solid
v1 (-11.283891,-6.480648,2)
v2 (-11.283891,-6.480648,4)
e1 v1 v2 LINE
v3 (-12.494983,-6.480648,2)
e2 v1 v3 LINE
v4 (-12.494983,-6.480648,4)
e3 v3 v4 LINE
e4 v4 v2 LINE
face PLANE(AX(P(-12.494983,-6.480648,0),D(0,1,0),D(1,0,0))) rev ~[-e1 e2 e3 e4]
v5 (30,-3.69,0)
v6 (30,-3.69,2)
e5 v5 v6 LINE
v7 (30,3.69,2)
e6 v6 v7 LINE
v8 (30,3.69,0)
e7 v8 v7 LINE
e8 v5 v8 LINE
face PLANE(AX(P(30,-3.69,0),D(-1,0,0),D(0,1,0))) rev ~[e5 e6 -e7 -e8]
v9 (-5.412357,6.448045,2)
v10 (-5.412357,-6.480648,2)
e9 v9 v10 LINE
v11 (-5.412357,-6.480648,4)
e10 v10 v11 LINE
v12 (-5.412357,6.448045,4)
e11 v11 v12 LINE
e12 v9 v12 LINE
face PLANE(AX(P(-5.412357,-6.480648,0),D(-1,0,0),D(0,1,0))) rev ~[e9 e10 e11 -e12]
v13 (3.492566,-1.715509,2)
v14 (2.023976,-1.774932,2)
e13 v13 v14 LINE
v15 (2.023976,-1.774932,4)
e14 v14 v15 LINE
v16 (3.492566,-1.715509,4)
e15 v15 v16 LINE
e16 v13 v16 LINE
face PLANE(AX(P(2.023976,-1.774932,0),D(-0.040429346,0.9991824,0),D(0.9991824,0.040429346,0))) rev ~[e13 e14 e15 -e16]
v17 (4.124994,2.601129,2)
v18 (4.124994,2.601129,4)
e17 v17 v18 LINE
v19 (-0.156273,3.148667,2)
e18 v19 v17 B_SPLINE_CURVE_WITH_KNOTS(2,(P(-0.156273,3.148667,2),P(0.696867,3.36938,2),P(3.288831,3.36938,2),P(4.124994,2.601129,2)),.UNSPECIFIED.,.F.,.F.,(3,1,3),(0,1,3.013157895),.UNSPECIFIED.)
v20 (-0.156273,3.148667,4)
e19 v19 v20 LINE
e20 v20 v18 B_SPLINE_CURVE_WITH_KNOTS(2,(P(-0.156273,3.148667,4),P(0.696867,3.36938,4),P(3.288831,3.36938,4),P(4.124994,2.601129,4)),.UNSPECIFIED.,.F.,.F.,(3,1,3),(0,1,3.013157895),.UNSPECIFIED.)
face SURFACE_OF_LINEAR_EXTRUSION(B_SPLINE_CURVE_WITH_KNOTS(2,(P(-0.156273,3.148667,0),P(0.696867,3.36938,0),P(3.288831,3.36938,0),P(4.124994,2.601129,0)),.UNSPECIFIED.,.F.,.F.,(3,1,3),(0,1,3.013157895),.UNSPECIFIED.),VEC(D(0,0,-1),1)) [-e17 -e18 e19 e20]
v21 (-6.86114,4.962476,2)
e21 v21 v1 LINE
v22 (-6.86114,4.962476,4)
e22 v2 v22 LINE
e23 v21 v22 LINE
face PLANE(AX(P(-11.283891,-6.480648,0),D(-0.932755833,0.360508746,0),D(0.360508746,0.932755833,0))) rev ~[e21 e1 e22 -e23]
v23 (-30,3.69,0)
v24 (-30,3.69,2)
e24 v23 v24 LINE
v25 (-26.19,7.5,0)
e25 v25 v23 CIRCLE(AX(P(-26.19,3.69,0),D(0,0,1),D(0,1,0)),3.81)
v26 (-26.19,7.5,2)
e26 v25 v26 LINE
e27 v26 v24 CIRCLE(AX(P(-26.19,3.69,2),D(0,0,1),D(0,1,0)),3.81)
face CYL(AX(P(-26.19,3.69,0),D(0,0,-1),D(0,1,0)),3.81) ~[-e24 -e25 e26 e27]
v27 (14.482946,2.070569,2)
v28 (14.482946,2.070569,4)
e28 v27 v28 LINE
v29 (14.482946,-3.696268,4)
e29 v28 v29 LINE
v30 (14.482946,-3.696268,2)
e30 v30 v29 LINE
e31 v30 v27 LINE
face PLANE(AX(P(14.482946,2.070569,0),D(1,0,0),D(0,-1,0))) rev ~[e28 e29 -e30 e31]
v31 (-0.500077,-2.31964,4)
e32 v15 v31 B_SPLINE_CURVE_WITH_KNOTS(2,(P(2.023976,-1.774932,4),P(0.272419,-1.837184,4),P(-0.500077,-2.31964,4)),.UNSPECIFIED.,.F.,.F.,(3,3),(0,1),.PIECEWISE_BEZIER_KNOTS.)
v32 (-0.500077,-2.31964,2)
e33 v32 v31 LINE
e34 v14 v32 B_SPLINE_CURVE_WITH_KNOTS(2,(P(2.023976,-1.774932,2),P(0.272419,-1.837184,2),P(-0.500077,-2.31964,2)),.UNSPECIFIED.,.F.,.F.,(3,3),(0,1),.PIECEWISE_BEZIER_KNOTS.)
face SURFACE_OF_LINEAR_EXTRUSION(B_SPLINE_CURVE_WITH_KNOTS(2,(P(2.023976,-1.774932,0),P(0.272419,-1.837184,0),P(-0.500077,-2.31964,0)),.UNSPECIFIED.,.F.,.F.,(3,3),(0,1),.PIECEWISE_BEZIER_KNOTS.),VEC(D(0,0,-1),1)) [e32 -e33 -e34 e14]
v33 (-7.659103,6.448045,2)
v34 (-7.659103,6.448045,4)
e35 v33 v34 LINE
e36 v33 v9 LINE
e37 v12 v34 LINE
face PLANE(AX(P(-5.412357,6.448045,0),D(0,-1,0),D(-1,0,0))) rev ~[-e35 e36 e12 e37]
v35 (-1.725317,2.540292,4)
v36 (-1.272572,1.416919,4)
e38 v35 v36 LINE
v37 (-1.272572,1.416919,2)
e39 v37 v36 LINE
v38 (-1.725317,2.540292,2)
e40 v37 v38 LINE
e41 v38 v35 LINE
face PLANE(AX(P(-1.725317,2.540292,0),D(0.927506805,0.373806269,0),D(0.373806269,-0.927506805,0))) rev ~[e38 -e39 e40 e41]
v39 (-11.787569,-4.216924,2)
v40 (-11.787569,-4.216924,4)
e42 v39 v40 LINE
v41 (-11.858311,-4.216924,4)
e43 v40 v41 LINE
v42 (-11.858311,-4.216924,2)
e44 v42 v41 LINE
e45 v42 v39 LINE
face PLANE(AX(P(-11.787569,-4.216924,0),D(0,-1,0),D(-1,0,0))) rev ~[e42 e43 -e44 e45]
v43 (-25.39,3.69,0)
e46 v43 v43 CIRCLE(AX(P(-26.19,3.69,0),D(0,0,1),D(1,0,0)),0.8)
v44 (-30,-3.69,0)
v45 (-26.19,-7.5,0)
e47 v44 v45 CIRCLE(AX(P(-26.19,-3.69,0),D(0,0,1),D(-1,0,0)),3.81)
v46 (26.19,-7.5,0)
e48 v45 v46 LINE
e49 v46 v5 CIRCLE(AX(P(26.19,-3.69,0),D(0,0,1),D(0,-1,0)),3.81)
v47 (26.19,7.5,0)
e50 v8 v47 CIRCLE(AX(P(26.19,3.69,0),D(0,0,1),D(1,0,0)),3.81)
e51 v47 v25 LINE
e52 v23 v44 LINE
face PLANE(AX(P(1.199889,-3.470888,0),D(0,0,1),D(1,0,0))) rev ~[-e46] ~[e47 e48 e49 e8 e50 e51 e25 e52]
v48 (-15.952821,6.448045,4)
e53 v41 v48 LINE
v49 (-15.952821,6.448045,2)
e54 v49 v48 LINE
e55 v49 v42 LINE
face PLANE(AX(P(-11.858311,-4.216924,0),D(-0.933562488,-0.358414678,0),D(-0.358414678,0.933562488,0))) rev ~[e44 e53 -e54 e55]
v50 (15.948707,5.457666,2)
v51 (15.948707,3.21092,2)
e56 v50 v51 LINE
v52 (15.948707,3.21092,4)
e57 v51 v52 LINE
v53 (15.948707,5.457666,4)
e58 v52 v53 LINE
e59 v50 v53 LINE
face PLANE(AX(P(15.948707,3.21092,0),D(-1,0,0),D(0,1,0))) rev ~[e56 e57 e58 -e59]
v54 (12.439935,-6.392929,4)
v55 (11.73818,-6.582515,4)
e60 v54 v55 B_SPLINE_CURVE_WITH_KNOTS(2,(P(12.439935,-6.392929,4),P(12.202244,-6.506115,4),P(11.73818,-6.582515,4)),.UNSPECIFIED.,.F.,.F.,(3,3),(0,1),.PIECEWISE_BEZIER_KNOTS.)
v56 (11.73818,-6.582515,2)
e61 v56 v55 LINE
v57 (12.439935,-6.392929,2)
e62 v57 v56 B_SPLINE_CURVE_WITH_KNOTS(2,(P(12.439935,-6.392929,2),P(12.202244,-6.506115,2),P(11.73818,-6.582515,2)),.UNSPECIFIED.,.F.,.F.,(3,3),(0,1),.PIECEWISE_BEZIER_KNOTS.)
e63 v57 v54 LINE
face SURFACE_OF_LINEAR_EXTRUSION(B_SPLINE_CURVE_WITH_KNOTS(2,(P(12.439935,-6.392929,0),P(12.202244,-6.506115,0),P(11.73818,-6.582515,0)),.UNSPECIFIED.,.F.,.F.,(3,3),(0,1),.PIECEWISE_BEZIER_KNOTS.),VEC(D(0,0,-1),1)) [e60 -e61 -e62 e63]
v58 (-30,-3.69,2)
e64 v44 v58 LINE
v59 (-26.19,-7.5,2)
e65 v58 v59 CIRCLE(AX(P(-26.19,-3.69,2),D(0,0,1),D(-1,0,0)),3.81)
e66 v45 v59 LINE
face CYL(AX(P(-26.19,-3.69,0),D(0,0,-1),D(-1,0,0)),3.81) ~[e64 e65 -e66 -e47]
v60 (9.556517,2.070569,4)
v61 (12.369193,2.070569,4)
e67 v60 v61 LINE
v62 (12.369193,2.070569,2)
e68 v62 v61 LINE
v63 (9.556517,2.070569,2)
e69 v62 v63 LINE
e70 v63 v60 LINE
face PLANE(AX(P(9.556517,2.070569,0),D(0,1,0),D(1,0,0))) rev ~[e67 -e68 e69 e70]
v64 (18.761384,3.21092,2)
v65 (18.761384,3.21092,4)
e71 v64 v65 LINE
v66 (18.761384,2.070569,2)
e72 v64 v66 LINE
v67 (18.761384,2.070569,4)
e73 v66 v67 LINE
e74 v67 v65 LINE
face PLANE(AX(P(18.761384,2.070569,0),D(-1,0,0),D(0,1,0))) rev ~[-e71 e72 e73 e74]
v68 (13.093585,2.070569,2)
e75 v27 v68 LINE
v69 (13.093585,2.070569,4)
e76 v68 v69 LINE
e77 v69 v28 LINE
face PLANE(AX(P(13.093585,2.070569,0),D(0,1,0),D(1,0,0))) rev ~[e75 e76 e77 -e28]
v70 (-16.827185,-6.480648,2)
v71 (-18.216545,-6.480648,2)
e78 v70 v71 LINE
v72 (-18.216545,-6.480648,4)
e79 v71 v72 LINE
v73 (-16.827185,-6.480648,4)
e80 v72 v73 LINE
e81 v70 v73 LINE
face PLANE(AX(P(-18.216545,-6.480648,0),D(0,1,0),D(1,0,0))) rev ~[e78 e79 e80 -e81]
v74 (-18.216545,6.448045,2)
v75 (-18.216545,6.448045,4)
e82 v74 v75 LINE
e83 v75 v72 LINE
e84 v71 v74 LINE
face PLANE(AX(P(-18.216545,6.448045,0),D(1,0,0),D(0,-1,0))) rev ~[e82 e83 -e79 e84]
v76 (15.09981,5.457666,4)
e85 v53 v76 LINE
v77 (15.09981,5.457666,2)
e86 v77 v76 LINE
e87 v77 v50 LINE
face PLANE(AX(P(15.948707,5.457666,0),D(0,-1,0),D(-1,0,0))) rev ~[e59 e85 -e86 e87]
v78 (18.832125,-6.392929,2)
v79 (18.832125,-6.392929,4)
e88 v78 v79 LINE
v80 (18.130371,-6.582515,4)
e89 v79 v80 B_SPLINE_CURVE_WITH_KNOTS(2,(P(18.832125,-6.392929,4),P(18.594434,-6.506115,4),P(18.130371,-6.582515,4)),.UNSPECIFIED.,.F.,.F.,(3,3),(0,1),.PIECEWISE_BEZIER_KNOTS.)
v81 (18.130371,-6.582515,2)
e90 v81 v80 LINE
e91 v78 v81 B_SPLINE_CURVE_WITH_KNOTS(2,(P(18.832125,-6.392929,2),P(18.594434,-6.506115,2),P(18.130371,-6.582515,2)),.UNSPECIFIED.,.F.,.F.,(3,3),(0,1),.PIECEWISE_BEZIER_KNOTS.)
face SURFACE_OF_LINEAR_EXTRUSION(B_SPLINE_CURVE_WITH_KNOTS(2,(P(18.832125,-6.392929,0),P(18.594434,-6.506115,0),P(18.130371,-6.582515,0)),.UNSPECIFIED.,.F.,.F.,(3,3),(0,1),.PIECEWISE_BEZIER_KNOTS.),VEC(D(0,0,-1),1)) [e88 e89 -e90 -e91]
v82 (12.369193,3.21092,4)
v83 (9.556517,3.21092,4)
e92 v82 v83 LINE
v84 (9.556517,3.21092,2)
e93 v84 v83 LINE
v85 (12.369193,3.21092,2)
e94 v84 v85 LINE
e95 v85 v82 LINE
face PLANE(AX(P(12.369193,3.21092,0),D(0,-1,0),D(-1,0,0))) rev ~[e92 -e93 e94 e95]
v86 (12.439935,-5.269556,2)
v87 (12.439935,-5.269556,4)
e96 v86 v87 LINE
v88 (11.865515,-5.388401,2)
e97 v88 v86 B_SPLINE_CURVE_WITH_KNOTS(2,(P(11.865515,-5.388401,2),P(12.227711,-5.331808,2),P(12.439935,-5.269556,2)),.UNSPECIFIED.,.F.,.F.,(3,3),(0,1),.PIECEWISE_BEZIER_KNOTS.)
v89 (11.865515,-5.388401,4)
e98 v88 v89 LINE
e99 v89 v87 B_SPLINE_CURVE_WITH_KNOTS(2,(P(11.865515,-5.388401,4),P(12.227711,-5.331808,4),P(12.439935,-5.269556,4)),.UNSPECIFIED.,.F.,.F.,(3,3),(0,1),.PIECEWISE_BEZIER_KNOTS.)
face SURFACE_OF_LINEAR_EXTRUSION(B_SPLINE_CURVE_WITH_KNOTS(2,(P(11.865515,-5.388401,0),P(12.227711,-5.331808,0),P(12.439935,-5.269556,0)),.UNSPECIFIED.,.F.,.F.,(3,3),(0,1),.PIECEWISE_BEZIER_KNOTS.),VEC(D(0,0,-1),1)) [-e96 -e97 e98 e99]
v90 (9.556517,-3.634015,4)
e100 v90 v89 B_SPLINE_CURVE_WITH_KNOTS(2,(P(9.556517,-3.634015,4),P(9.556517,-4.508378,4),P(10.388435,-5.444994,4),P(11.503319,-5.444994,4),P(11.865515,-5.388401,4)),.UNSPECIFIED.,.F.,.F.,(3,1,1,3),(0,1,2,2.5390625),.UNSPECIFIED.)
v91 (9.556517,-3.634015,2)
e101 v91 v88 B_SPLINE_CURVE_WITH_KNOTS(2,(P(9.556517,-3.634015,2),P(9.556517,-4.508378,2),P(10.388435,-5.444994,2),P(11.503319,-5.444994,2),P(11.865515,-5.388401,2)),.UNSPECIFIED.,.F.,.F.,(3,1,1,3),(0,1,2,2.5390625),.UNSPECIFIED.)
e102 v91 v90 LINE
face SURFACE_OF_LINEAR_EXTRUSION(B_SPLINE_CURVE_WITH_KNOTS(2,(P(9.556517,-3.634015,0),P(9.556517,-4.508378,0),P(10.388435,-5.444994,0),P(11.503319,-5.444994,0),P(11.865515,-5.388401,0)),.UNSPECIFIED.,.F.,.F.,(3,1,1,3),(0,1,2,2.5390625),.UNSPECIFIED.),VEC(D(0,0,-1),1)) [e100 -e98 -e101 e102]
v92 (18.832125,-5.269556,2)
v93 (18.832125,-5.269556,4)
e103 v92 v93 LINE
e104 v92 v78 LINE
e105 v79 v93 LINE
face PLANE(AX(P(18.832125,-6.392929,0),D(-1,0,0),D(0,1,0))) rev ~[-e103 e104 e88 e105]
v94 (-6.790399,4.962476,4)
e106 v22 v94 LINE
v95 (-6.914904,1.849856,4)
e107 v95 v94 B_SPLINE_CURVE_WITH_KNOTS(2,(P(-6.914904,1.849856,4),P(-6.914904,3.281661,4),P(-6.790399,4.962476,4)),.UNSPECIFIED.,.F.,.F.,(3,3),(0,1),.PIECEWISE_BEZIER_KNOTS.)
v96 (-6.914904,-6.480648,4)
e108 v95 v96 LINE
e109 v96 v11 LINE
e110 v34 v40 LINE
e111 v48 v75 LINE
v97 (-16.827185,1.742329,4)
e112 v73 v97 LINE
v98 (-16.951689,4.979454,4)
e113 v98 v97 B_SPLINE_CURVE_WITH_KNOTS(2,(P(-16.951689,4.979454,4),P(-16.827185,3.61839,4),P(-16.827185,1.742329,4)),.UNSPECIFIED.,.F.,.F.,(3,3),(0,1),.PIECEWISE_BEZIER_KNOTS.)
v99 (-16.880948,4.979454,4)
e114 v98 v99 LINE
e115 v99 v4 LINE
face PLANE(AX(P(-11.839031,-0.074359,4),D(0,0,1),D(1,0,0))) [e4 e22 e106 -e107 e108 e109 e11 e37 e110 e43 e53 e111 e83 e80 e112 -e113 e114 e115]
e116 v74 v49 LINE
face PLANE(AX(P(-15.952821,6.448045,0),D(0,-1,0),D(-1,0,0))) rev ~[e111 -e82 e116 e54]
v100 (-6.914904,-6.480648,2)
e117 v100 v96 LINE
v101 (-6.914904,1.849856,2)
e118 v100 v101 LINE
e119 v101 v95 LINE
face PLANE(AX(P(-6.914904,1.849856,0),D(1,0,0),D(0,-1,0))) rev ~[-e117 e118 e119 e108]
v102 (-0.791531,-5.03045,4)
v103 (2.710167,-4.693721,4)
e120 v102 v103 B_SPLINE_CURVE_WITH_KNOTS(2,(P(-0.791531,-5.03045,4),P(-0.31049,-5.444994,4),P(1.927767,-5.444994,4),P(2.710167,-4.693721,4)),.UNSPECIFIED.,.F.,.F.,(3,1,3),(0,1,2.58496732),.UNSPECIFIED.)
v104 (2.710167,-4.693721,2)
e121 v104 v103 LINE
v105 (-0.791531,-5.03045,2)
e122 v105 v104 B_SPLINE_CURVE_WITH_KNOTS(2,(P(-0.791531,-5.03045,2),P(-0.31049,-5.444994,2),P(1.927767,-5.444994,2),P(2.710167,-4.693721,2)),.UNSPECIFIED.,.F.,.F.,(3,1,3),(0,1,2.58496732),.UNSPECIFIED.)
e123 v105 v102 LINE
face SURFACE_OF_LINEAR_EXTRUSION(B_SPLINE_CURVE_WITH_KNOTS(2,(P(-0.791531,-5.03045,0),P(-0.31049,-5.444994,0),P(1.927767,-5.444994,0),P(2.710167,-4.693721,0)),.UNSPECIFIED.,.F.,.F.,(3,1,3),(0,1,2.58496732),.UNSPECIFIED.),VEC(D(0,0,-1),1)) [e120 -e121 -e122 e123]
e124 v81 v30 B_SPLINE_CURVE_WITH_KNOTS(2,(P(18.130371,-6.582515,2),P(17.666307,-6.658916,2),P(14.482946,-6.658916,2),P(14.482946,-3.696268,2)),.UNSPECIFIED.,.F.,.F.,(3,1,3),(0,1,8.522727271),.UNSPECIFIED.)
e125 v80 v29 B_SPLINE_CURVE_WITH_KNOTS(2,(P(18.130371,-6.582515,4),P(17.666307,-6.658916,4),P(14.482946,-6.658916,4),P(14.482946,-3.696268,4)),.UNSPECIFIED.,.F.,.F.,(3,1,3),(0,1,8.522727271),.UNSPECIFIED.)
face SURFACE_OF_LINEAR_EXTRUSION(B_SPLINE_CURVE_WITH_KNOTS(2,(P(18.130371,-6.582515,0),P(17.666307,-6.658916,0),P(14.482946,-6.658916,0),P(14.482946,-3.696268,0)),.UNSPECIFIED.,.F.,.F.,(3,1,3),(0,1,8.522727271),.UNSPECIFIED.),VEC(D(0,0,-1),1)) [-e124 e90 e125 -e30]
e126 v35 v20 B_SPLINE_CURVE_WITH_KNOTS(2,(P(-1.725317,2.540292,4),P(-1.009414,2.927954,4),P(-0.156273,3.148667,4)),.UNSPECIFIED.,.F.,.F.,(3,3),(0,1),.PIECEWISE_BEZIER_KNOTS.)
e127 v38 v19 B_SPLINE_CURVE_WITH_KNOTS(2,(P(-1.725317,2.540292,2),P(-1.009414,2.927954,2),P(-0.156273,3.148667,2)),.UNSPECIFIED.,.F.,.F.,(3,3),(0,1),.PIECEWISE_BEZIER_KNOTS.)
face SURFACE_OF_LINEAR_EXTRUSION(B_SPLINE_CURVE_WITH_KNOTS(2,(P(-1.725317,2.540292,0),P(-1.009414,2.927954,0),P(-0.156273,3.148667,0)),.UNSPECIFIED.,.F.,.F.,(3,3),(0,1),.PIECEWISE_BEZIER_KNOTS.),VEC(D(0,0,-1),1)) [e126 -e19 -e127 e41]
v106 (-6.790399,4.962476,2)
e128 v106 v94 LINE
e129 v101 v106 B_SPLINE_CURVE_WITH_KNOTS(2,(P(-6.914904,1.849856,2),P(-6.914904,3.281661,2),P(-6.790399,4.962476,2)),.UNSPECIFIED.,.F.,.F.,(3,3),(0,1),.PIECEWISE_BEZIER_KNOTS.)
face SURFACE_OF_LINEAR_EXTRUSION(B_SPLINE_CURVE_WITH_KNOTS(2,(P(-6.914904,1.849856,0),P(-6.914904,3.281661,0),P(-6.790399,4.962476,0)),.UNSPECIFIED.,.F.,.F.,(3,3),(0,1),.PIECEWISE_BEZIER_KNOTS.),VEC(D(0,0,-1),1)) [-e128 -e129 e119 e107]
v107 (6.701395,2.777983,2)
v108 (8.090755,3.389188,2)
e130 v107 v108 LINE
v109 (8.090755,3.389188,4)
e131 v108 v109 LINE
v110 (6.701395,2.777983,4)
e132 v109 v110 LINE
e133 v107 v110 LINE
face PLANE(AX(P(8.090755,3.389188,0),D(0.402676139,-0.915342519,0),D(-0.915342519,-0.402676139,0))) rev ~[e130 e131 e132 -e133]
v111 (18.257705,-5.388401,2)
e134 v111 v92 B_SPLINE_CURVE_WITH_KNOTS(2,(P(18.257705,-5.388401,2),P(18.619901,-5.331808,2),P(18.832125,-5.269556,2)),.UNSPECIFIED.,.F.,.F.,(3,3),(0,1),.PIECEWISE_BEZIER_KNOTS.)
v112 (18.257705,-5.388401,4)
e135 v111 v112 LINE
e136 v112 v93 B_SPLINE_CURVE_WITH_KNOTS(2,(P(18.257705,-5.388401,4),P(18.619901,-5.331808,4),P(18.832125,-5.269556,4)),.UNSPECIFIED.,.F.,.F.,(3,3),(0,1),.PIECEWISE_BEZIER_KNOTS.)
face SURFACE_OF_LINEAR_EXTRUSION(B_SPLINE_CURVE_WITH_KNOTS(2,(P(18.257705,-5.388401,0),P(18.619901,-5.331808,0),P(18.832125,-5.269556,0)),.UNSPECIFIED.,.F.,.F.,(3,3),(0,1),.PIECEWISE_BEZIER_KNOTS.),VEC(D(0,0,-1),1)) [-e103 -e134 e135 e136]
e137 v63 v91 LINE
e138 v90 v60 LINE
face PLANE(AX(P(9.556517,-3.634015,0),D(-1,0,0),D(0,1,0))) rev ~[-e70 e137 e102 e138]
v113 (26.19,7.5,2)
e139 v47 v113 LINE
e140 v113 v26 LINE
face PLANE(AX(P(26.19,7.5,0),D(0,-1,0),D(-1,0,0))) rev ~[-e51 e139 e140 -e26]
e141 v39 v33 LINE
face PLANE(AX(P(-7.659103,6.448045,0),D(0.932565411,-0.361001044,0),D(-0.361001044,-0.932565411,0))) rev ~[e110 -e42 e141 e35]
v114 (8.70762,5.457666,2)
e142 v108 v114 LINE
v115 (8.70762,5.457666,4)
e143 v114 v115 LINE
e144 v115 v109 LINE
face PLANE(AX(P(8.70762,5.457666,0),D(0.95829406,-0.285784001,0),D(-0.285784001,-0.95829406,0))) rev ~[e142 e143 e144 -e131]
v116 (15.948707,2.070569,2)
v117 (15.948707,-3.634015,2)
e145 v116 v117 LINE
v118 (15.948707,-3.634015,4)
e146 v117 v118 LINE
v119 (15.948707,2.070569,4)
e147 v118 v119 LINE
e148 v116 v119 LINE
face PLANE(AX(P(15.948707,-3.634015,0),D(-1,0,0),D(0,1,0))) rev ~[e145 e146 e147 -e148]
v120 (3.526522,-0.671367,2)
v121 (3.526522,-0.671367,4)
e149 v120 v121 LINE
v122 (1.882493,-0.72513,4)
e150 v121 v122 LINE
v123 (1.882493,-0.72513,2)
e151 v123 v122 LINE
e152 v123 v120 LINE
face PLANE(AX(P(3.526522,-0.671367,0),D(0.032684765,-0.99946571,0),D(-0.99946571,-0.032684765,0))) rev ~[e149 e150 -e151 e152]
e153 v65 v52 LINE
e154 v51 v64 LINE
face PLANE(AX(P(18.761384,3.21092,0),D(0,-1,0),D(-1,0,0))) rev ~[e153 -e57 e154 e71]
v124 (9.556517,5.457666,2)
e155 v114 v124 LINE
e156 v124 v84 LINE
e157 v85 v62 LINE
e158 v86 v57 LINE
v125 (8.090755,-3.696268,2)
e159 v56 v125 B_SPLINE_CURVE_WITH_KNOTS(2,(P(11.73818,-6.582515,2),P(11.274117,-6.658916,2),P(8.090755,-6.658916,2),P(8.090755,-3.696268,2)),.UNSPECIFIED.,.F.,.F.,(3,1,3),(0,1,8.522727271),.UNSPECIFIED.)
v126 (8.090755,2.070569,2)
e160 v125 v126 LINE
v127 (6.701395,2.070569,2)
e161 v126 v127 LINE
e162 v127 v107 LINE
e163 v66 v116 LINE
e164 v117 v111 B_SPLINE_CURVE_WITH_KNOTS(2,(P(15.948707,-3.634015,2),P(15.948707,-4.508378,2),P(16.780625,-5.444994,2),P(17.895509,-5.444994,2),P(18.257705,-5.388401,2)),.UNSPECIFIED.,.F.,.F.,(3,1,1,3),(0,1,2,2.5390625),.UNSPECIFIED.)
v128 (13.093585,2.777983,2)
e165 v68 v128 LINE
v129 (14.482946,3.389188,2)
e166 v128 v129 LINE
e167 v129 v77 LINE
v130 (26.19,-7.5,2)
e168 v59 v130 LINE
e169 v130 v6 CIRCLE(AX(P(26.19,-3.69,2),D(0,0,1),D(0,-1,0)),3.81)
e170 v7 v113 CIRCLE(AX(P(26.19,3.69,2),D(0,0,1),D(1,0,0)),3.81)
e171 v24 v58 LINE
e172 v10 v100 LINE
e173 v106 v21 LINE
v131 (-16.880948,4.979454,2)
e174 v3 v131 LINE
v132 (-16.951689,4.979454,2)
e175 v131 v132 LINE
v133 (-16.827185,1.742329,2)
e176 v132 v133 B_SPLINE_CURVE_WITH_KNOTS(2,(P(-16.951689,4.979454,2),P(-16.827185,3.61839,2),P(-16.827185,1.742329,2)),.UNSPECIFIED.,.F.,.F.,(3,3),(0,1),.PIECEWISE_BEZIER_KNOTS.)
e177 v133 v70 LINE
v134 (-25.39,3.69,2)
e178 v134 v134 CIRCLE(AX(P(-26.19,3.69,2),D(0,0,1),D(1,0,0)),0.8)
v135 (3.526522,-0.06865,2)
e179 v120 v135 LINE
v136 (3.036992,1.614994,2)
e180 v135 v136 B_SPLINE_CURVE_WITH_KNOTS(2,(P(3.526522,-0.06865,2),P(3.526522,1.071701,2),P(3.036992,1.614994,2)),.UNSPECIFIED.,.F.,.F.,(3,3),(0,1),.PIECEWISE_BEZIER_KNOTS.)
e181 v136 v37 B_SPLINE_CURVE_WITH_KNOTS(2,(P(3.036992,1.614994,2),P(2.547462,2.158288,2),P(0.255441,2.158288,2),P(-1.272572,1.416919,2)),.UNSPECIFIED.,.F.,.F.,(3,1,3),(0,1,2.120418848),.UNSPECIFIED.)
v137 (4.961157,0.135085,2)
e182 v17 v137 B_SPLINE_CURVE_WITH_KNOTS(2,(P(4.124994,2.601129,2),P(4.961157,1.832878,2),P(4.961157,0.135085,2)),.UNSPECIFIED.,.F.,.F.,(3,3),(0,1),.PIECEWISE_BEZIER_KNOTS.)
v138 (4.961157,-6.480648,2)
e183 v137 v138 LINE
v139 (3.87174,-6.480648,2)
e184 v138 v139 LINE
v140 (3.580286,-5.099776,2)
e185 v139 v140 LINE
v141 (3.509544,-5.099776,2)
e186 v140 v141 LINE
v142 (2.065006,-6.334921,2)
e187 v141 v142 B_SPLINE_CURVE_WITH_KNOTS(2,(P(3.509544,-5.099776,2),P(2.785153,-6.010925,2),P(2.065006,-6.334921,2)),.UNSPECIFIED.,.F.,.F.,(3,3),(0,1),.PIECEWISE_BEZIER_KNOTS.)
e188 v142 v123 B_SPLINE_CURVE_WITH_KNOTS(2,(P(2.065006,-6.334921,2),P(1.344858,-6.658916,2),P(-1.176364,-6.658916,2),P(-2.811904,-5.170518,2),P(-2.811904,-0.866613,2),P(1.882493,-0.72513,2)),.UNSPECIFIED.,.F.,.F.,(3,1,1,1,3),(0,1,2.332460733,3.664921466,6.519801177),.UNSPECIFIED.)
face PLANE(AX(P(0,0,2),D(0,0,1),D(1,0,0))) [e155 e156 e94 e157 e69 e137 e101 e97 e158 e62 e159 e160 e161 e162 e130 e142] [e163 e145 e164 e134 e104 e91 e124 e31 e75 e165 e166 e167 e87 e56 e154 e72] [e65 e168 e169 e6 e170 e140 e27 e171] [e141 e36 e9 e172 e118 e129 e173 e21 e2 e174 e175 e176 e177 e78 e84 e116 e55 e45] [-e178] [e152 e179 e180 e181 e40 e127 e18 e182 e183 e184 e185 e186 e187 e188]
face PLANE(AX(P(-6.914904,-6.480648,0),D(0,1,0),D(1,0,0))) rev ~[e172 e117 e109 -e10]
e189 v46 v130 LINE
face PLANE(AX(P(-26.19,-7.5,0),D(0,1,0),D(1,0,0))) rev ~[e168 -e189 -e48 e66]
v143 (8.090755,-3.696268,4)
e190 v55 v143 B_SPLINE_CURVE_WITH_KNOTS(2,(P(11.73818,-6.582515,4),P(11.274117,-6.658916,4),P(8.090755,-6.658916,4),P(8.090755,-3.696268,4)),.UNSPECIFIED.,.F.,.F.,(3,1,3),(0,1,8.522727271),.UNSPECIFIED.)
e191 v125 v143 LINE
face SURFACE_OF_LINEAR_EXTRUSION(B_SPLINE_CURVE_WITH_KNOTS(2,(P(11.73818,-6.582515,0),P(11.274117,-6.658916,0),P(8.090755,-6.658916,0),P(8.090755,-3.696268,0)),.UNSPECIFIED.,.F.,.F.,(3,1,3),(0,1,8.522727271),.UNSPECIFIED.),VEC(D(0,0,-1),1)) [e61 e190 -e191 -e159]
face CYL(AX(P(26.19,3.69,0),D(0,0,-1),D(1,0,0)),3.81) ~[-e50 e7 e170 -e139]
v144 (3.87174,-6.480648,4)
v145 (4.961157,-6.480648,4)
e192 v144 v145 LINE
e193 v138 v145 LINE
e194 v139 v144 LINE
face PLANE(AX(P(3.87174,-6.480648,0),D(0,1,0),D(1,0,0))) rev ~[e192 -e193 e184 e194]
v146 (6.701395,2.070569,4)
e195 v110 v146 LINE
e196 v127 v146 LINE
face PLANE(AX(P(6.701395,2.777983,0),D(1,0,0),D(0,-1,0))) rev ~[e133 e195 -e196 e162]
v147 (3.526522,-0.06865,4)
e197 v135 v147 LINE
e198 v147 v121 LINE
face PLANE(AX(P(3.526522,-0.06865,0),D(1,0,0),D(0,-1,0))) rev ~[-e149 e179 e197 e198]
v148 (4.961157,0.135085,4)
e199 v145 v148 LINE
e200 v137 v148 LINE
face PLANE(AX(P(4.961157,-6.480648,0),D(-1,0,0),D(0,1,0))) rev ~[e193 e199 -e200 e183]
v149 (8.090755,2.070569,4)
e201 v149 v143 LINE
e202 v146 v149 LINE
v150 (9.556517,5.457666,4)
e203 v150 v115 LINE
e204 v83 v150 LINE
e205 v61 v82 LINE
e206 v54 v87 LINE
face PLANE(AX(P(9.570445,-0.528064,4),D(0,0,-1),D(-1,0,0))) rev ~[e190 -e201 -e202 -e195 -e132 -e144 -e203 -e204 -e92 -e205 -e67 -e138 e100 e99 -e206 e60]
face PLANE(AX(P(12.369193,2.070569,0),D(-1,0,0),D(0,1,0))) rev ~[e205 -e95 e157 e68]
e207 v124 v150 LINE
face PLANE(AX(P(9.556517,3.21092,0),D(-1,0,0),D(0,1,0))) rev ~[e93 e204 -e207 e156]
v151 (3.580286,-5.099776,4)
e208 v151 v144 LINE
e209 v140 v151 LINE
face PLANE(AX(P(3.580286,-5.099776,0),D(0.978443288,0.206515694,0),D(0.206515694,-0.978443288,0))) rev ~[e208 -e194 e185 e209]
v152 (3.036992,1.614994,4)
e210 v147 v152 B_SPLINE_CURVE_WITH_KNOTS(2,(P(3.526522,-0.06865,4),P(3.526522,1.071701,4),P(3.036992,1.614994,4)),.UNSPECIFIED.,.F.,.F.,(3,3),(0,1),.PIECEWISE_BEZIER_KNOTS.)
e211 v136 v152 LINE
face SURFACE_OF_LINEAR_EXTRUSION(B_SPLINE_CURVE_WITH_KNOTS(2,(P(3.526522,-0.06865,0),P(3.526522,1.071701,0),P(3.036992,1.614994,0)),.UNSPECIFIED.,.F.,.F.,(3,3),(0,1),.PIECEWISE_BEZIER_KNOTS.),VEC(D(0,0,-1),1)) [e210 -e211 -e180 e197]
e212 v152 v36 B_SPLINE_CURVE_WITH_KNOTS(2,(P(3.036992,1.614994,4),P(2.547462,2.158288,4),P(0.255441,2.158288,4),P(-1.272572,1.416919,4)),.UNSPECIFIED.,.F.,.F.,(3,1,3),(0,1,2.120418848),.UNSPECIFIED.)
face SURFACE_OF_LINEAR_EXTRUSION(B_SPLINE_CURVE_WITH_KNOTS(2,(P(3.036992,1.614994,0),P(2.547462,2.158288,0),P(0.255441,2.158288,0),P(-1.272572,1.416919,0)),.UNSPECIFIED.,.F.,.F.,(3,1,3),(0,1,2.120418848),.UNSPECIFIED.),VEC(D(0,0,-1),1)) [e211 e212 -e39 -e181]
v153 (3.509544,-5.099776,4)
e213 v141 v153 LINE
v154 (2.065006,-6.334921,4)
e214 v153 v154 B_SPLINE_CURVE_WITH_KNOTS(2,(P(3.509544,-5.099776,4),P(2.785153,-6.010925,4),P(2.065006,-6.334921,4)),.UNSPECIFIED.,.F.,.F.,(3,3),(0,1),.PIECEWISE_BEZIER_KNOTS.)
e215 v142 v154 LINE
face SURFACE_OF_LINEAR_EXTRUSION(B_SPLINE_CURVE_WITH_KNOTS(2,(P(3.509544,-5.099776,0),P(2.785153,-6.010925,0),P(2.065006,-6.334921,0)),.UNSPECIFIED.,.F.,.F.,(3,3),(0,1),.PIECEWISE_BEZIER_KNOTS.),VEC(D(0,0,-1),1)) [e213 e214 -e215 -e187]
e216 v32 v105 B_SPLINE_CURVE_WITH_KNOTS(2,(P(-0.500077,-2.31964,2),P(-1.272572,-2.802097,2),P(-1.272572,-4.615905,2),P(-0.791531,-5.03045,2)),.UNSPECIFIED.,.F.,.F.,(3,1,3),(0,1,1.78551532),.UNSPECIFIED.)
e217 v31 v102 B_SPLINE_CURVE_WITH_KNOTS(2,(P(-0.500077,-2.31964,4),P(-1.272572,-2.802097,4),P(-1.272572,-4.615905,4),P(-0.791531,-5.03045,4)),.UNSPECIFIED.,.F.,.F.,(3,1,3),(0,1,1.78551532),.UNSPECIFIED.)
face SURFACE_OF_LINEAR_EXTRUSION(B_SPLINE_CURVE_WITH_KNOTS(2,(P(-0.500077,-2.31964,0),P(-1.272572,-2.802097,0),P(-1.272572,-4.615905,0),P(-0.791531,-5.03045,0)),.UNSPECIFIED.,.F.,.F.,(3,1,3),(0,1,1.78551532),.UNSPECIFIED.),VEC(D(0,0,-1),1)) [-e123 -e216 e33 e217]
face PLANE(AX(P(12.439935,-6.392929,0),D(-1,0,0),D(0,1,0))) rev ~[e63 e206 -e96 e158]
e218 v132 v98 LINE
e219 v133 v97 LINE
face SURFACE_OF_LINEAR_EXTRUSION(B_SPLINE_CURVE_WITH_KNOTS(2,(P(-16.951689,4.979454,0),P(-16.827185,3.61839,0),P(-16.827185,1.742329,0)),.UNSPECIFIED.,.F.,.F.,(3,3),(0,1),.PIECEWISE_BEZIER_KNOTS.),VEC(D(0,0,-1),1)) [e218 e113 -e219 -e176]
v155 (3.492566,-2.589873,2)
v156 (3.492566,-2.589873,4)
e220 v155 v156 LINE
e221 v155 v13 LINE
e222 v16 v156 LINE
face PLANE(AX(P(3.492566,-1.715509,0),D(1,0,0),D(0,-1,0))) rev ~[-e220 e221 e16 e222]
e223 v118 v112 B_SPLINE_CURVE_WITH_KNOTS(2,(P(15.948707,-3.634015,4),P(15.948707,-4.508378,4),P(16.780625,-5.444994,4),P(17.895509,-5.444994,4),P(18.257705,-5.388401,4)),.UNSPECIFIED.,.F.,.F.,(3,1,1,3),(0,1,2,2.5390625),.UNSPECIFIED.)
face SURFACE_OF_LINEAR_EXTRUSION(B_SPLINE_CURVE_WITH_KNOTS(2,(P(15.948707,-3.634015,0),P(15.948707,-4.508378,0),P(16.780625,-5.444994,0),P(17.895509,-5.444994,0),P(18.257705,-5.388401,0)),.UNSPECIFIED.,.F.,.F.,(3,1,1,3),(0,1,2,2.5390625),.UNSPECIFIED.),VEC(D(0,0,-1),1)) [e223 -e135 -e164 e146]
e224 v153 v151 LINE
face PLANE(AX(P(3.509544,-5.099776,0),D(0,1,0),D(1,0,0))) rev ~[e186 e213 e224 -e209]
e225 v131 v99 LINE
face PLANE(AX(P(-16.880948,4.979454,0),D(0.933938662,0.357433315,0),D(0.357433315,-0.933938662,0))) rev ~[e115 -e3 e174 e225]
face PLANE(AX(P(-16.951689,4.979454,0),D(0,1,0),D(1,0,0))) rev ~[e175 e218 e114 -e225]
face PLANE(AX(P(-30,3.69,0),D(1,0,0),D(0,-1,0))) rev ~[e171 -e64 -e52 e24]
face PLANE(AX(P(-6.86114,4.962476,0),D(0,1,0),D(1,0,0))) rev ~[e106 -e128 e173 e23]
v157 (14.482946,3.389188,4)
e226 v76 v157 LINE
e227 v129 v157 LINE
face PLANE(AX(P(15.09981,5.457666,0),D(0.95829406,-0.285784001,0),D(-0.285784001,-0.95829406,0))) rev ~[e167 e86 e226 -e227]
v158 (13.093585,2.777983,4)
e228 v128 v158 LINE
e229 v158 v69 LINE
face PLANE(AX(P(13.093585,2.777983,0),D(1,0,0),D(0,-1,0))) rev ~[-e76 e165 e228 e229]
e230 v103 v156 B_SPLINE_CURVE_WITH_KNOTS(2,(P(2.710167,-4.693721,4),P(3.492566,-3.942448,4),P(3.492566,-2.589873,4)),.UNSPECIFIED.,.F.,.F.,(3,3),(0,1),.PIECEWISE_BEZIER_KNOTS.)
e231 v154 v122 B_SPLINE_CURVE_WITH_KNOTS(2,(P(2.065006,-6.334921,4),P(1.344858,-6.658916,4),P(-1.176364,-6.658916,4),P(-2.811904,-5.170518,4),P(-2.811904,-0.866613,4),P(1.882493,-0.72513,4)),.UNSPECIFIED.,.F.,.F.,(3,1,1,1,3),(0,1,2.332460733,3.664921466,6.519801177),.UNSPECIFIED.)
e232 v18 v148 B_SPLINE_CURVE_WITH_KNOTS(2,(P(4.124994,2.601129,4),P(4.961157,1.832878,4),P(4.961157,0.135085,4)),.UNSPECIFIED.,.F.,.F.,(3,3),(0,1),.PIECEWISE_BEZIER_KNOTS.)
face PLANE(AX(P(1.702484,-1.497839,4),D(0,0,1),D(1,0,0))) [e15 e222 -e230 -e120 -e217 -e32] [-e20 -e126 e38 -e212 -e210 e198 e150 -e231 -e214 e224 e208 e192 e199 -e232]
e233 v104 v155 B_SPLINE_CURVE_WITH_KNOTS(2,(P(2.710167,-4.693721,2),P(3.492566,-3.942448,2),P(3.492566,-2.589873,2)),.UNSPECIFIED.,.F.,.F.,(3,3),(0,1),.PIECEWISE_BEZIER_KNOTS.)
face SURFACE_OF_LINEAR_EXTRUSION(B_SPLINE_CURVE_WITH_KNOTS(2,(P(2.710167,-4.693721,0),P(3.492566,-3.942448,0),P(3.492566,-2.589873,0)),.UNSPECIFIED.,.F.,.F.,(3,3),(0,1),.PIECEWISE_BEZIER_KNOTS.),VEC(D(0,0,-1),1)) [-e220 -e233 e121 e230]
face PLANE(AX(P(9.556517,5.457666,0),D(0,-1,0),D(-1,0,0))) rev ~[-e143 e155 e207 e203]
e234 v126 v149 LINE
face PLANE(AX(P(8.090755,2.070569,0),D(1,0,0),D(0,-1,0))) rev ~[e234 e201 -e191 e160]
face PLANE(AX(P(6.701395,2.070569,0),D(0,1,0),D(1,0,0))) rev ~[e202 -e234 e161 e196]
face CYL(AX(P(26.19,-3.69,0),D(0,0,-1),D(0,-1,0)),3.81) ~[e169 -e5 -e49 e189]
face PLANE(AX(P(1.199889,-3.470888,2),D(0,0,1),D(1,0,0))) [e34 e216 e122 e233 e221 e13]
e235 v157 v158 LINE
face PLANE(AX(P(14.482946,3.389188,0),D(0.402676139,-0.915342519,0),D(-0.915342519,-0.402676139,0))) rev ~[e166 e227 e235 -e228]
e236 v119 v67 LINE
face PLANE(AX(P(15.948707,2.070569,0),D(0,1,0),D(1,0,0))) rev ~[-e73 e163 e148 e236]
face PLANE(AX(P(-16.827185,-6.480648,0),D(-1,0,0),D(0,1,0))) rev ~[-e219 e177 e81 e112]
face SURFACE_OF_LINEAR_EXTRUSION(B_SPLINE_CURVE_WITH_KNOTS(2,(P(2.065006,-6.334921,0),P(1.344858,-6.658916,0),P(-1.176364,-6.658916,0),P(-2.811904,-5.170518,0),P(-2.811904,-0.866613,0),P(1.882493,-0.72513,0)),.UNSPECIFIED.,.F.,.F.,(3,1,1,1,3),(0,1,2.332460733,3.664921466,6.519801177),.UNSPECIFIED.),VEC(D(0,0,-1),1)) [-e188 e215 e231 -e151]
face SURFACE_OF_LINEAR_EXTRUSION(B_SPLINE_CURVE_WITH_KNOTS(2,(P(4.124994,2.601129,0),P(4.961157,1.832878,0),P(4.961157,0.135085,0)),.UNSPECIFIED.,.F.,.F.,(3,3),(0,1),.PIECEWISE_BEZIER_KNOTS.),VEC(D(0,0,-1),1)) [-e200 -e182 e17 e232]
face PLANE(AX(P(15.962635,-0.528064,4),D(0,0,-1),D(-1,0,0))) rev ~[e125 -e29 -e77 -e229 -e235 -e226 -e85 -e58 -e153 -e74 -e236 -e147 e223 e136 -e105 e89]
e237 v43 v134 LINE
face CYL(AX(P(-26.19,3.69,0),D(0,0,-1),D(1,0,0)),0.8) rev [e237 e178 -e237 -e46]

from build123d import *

# Parameters (mm, degrees)
F0_R     = 0.8
F1_DEPTH = 2
F2_DEPTH = 4
F3_DEPTH = 4
F4_DEPTH = 2
F5_DEPTH = 4
F6_DEPTH = 2.5


with BuildPart() as f1:
    # F0 (on Top) → F1 (new body)
    with BuildSketch(Plane.XY):
        with BuildLine():
            ThreePointArc((30, 3.69), (28.8840768363, 6.3840768363), (26.19, 7.5))
            Line((26.19, 7.5), (-26.19, 7.5))
            ThreePointArc((-26.19, 7.5), (-28.8840768363, 6.3840768363), (-30, 3.69))
            Line((-30, 3.69), (-30, -3.69))
            ThreePointArc((-30, -3.69), (-28.8840768363, -6.3840768363), (-26.19, -7.5))
            Line((-26.19, -7.5), (26.19, -7.5))
            ThreePointArc((26.19, -7.5), (28.8840768363, -6.3840768363), (30, -3.69))
            Line((30, -3.69), (30, 3.69))
        make_face()
        with BuildLine():
            Line((-11.2838908856, -6.4806478423), (-12.4949831323, -6.4806478423))
            Line((-12.4949831323, -6.4806478423), (-16.8809480446, 4.9794540253))
            Line((-16.8809480446, 4.9794540253), (-16.9516894142, 4.9794540253))
            add(Edge.make_bspline(
                [(-16.9516894142, 4.9794540253), (-16.8271846037, 3.6183900751), (-16.8271846037, 1.7423289545)],
                knots=[0, 0, 0, 1, 1, 1], degree=2))
            Line((-16.8271846037, 1.7423289545), (-16.8271846037, -6.4806478423))
            Line((-16.8271846037, -6.4806478423), (-18.2165451018, -6.4806478423))
            Line((-18.2165451018, -6.4806478423), (-18.2165451018, 6.4480448572))
            Line((-18.2165451018, 6.4480448572), (-15.9528212761, 6.4480448572))
            Line((-15.9528212761, 6.4480448572), (-11.8583108063, -4.2169240166))
            Line((-11.8583108063, -4.2169240166), (-11.7875694368, -4.2169240166))
            Line((-11.7875694368, -4.2169240166), (-7.6591031097, 6.4480448572))
            Line((-7.6591031097, 6.4480448572), (-5.4123572127, 6.4480448572))
            Line((-5.4123572127, 6.4480448572), (-5.4123572127, -6.4806478423))
            Line((-5.4123572127, -6.4806478423), (-6.914903902, -6.4806478423))
            Line((-6.914903902, -6.4806478423), (-6.914903902, 1.8498558363))
            add(Edge.make_bspline(
                [(-6.914903902, 1.8498558363), (-6.914903902, 3.281661156), (-6.7903990916, 4.9624760966)],
                knots=[0, 0, 0, 1, 1, 1], degree=2))
            Line((-6.7903990916, 4.9624760966), (-6.8611404611, 4.9624760966))
            Line((-6.8611404611, 4.9624760966), (-11.2838908856, -6.4806478423))
        make_face(mode=Mode.SUBTRACT)
        with BuildLine():
            Line((4.9611572186, -6.4806478423), (3.8717401274, -6.4806478423))
            Line((3.8717401274, -6.4806478423), (3.5802856849, -5.0997763086))
            Line((3.5802856849, -5.0997763086), (3.5095443153, -5.0997763086))
            add(Edge.make_bspline(
                [(3.5095443153, -5.0997763086), (2.7851526911, -6.0109251485), (2.0650055491, -6.334920621)],
                knots=[0, 0, 0, 1, 1, 1], degree=2))
            add(Edge.make_bspline(
                [(2.0650055491, -6.334920621), (1.344858407, -6.6589160936), (0.2639302802, -6.6589160936)],
                knots=[0, 0, 0, 1, 1, 1], degree=2))
            add(Edge.make_bspline(
                [(0.2639302802, -6.6589160936), (-1.1763640039, -6.6589160936), (-1.9941342359, -5.9147168859)],
                knots=[0, 0, 0, 1, 1, 1], degree=2))
            add(Edge.make_bspline(
                [(-1.9941342359, -5.9147168859), (-2.8119044679, -5.1705176782), (-2.8119044679, -3.8009647636)],
                knots=[0, 0, 0, 1, 1, 1], degree=2))
            add(Edge.make_bspline(
                [(-2.8119044679, -3.8009647636), (-2.8119044679, -0.8666127546), (1.8824928156, -0.7251300155)],
                knots=[0, 0, 0, 1, 1, 1], degree=2))
            Line((1.8824928156, -0.7251300155), (3.526522244, -0.6713665746))
            Line((3.526522244, -0.6713665746), (3.526522244, -0.068650106))
            add(Edge.make_bspline(
                [(3.526522244, -0.068650106), (3.526522244, 1.0717007712), (3.0369919667, 1.6149944893)],
                knots=[0, 0, 0, 1, 1, 1], degree=2))
            add(Edge.make_bspline(
                [(3.0369919667, 1.6149944893), (2.5474616894, 2.1582882075), (1.4665335626, 2.1582882075)],
                knots=[0, 0, 0, 1, 1, 1], degree=2))
            add(Edge.make_bspline(
                [(1.4665335626, 2.1582882075), (0.2554413159, 2.1582882075), (-1.2725722664, 1.4169186546)],
                knots=[0, 0, 0, 1, 1, 1], degree=2))
            Line((-1.2725722664, 1.4169186546), (-1.7253170316, 2.5402916031))
            add(Edge.make_bspline(
                [(-1.7253170316, 2.5402916031), (-1.0094143717, 2.9279543082), (-0.1562734549, 3.1486673813)],
                knots=[0, 0, 0, 1, 1, 1], degree=2))
            add(Edge.make_bspline(
                [(-0.1562734549, 3.1486673813), (0.6968674619, 3.3693804543), (1.5570825157, 3.3693804543)],
                knots=[0, 0, 0, 1, 1, 1], degree=2))
            add(Edge.make_bspline(
                [(1.5570825157, 3.3693804543), (3.2888312423, 3.3693804543), (4.1249942304, 2.6011291809)],
                knots=[0, 0, 0, 1, 1, 1], degree=2))
            add(Edge.make_bspline(
                [(4.1249942304, 2.6011291809), (4.9611572186, 1.8328779076), (4.9611572186, 0.1350850383)],
                knots=[0, 0, 0, 1, 1, 1], degree=2))
            Line((4.9611572186, 0.1350850383), (4.9611572186, -6.4806478423))
        make_face(mode=Mode.SUBTRACT)
        with BuildLine():
            add(Edge.make_bspline(
                [(9.9724758377, -4.9766863256), (10.3884350907, -5.444994192), (11.1128267149, -5.444994192)],
                knots=[0, 0, 0, 1, 1, 1], degree=2))
            add(Edge.make_bspline(
                [(11.1128267149, -5.444994192), (11.5033190748, -5.444994192), (11.8655148869, -5.3884010964)],
                knots=[0, 0, 0, 1, 1, 1], degree=2))
            add(Edge.make_bspline(
                [(11.8655148869, -5.3884010964), (12.227710699, -5.3318080007), (12.4399348077, -5.2695555955)],
                knots=[0, 0, 0, 1, 1, 1], degree=2))
            Line((12.4399348077, -5.2695555955), (12.4399348077, -6.392928544))
            add(Edge.make_bspline(
                [(12.4399348077, -6.392928544), (12.202243806, -6.5061147353), (11.7381804217, -6.5825154144)],
                knots=[0, 0, 0, 1, 1, 1], degree=2))
            add(Edge.make_bspline(
                [(11.7381804217, -6.5825154144), (11.2741170375, -6.6589160936), (10.9006026062, -6.6589160936)],
                knots=[0, 0, 0, 1, 1, 1], degree=2))
            add(Edge.make_bspline(
                [(10.9006026062, -6.6589160936), (8.0907554076, -6.6589160936), (8.0907554076, -3.6962675367)],
                knots=[0, 0, 0, 1, 1, 1], degree=2))
            Line((8.0907554076, -3.6962675367), (8.0907554076, 2.0705689093))
            Line((8.0907554076, 2.0705689093), (6.7013949096, 2.0705689093))
            Line((6.7013949096, 2.0705689093), (6.7013949096, 2.7779826048))
            Line((6.7013949096, 2.7779826048), (8.0907554076, 3.3891880377))
            Line((8.0907554076, 3.3891880377), (8.7076201501, 5.4576656835))
            Line((8.7076201501, 5.4576656835), (9.5565165847, 5.4576656835))
            Line((9.5565165847, 5.4576656835), (9.5565165847, 3.2109197865))
            Line((9.5565165847, 3.2109197865), (12.3691934381, 3.2109197865))
            Line((12.3691934381, 3.2109197865), (12.3691934381, 2.0705689093))
            Line((12.3691934381, 2.0705689093), (9.5565165847, 2.0705689093))
            Line((9.5565165847, 2.0705689093), (9.5565165847, -3.6340151315))
            add(Edge.make_bspline(
                [(9.5565165847, -3.6340151315), (9.5565165847, -4.5083784592), (9.9724758377, -4.9766863256)],
                knots=[0, 0, 0, 1, 1, 1], degree=2))
        make_face(mode=Mode.SUBTRACT)
        with BuildLine():
            add(Edge.make_bspline(
                [(16.3646659905, -4.9766863256), (16.7806252435, -5.444994192), (17.5050168677, -5.444994192)],
                knots=[0, 0, 0, 1, 1, 1], degree=2))
            add(Edge.make_bspline(
                [(17.5050168677, -5.444994192), (17.8955092276, -5.444994192), (18.2577050397, -5.3884010964)],
                knots=[0, 0, 0, 1, 1, 1], degree=2))
            add(Edge.make_bspline(
                [(18.2577050397, -5.3884010964), (18.6199008518, -5.3318080007), (18.8321249605, -5.2695555955)],
                knots=[0, 0, 0, 1, 1, 1], degree=2))
            Line((18.8321249605, -5.2695555955), (18.8321249605, -6.392928544))
            add(Edge.make_bspline(
                [(18.8321249605, -6.392928544), (18.5944339588, -6.5061147353), (18.1303705745, -6.5825154144)],
                knots=[0, 0, 0, 1, 1, 1], degree=2))
            add(Edge.make_bspline(
                [(18.1303705745, -6.5825154144), (17.6663071903, -6.6589160936), (17.292792759, -6.6589160936)],
                knots=[0, 0, 0, 1, 1, 1], degree=2))
            add(Edge.make_bspline(
                [(17.292792759, -6.6589160936), (14.4829455604, -6.6589160936), (14.4829455604, -3.6962675367)],
                knots=[0, 0, 0, 1, 1, 1], degree=2))
            Line((14.4829455604, -3.6962675367), (14.4829455604, 2.0705689093))
            Line((14.4829455604, 2.0705689093), (13.0935850624, 2.0705689093))
            Line((13.0935850624, 2.0705689093), (13.0935850624, 2.7779826048))
            Line((13.0935850624, 2.7779826048), (14.4829455604, 3.3891880377))
            Line((14.4829455604, 3.3891880377), (15.0998103029, 5.4576656835))
            Line((15.0998103029, 5.4576656835), (15.9487067375, 5.4576656835))
            Line((15.9487067375, 5.4576656835), (15.9487067375, 3.2109197865))
            Line((15.9487067375, 3.2109197865), (18.7613835909, 3.2109197865))
            Line((18.7613835909, 3.2109197865), (18.7613835909, 2.0705689093))
            Line((18.7613835909, 2.0705689093), (15.9487067375, 2.0705689093))
            Line((15.9487067375, 2.0705689093), (15.9487067375, -3.6340151315))
            add(Edge.make_bspline(
                [(15.9487067375, -3.6340151315), (15.9487067375, -4.5083784592), (16.3646659905, -4.9766863256)],
                knots=[0, 0, 0, 1, 1, 1], degree=2))
        make_face(mode=Mode.SUBTRACT)
        with Locations((-26.19, 3.69)):
            Circle(F0_R, mode=Mode.SUBTRACT)
    extrude(amount=F1_DEPTH)

    # F0 (on Top) → F2 (join)
    with BuildSketch(Plane.XY):
        with BuildLine():
            Line((3.5802856849, -5.0997763086), (3.8717401274, -6.4806478423))
            Line((3.8717401274, -6.4806478423), (4.9611572186, -6.4806478423))
            Line((4.9611572186, -6.4806478423), (4.9611572186, 0.1350850383))
            add(Edge.make_bspline(
                [(4.1249942304, 2.6011291809), (4.9611572186, 1.8328779076), (4.9611572186, 0.1350850383)],
                knots=[0, 0, 0, 1, 1, 1], degree=2))
            add(Edge.make_bspline(
                [(1.5570825157, 3.3693804543), (3.2888312423, 3.3693804543), (4.1249942304, 2.6011291809)],
                knots=[0, 0, 0, 1, 1, 1], degree=2))
            add(Edge.make_bspline(
                [(-0.1562734549, 3.1486673813), (0.6968674619, 3.3693804543), (1.5570825157, 3.3693804543)],
                knots=[0, 0, 0, 1, 1, 1], degree=2))
            add(Edge.make_bspline(
                [(-1.7253170316, 2.5402916031), (-1.0094143717, 2.9279543082), (-0.1562734549, 3.1486673813)],
                knots=[0, 0, 0, 1, 1, 1], degree=2))
            Line((-1.7253170316, 2.5402916031), (-1.2725722664, 1.4169186546))
            add(Edge.make_bspline(
                [(1.4665335626, 2.1582882075), (0.2554413159, 2.1582882075), (-1.2725722664, 1.4169186546)],
                knots=[0, 0, 0, 1, 1, 1], degree=2))
            add(Edge.make_bspline(
                [(3.0369919667, 1.6149944893), (2.5474616894, 2.1582882075), (1.4665335626, 2.1582882075)],
                knots=[0, 0, 0, 1, 1, 1], degree=2))
            add(Edge.make_bspline(
                [(3.526522244, -0.068650106), (3.526522244, 1.0717007712), (3.0369919667, 1.6149944893)],
                knots=[0, 0, 0, 1, 1, 1], degree=2))
            Line((3.526522244, -0.068650106), (3.526522244, -0.6713665746))
            Line((3.526522244, -0.6713665746), (1.8824928156, -0.7251300155))
            add(Edge.make_bspline(
                [(-2.8119044679, -3.8009647636), (-2.8119044679, -0.8666127546), (1.8824928156, -0.7251300155)],
                knots=[0, 0, 0, 1, 1, 1], degree=2))
            add(Edge.make_bspline(
                [(-1.9941342359, -5.9147168859), (-2.8119044679, -5.1705176782), (-2.8119044679, -3.8009647636)],
                knots=[0, 0, 0, 1, 1, 1], degree=2))
            add(Edge.make_bspline(
                [(0.2639302802, -6.6589160936), (-1.1763640039, -6.6589160936), (-1.9941342359, -5.9147168859)],
                knots=[0, 0, 0, 1, 1, 1], degree=2))
            add(Edge.make_bspline(
                [(2.0650055491, -6.334920621), (1.344858407, -6.6589160936), (0.2639302802, -6.6589160936)],
                knots=[0, 0, 0, 1, 1, 1], degree=2))
            add(Edge.make_bspline(
                [(3.5095443153, -5.0997763086), (2.7851526911, -6.0109251485), (2.0650055491, -6.334920621)],
                knots=[0, 0, 0, 1, 1, 1], degree=2))
            Line((3.5095443153, -5.0997763086), (3.5802856849, -5.0997763086))
        make_face()
        with BuildLine():
            add(Edge.make_bspline(
                [(0.5553847228, -5.444994192), (1.9277672921, -5.444994192), (2.7101668394, -4.6937208474)],
                knots=[0, 0, 0, 1, 1, 1], degree=2))
            add(Edge.make_bspline(
                [(-0.7915309535, -5.0304497665), (-0.3104896405, -5.444994192), (0.5553847228, -5.444994192)],
                knots=[0, 0, 0, 1, 1, 1], degree=2))
            add(Edge.make_bspline(
                [(-1.2725722664, -3.8179426923), (-1.2725722664, -4.6159053409), (-0.7915309535, -5.0304497665)],
                knots=[0, 0, 0, 1, 1, 1], degree=2))
            add(Edge.make_bspline(
                [(-0.5000765109, -2.3196404852), (-1.2725722664, -2.8020966255), (-1.2725722664, -3.8179426923)],
                knots=[0, 0, 0, 1, 1, 1], degree=2))
            add(Edge.make_bspline(
                [(2.0239755547, -1.7749319396), (0.2724192446, -1.8371843448), (-0.5000765109, -2.3196404852)],
                knots=[0, 0, 0, 1, 1, 1], degree=2))
            Line((2.0239755547, -1.7749319396), (3.4925663866, -1.7155091892))
            Line((3.4925663866, -1.7155091892), (3.4925663866, -2.5898725169))
            add(Edge.make_bspline(
                [(2.7101668394, -4.6937208474), (3.4925663866, -3.9424475027), (3.4925663866, -2.5898725169)],
                knots=[0, 0, 0, 1, 1, 1], degree=2))
        make_face(mode=Mode.SUBTRACT)
    extrude(amount=F2_DEPTH)

    # F0 (on Top) → F3 (join)
    with BuildSketch(Plane.XY):
        with BuildLine():
            Line((-16.8809480446, 4.9794540253), (-12.4949831323, -6.4806478423))
            Line((-12.4949831323, -6.4806478423), (-11.2838908856, -6.4806478423))
            Line((-11.2838908856, -6.4806478423), (-6.8611404611, 4.9624760966))
            Line((-6.8611404611, 4.9624760966), (-6.7903990916, 4.9624760966))
            add(Edge.make_bspline(
                [(-6.914903902, 1.8498558363), (-6.914903902, 3.281661156), (-6.7903990916, 4.9624760966)],
                knots=[0, 0, 0, 1, 1, 1], degree=2))
            Line((-6.914903902, 1.8498558363), (-6.914903902, -6.4806478423))
            Line((-6.914903902, -6.4806478423), (-5.4123572127, -6.4806478423))
            Line((-5.4123572127, -6.4806478423), (-5.4123572127, 6.4480448572))
            Line((-5.4123572127, 6.4480448572), (-7.6591031097, 6.4480448572))
            Line((-7.6591031097, 6.4480448572), (-11.7875694368, -4.2169240166))
            Line((-11.7875694368, -4.2169240166), (-11.8583108063, -4.2169240166))
            Line((-11.8583108063, -4.2169240166), (-15.9528212761, 6.4480448572))
            Line((-15.9528212761, 6.4480448572), (-18.2165451018, 6.4480448572))
            Line((-18.2165451018, 6.4480448572), (-18.2165451018, -6.4806478423))
            Line((-18.2165451018, -6.4806478423), (-16.8271846037, -6.4806478423))
            Line((-16.8271846037, -6.4806478423), (-16.8271846037, 1.7423289545))
            add(Edge.make_bspline(
                [(-16.9516894142, 4.9794540253), (-16.8271846037, 3.6183900751), (-16.8271846037, 1.7423289545)],
                knots=[0, 0, 0, 1, 1, 1], degree=2))
            Line((-16.9516894142, 4.9794540253), (-16.8809480446, 4.9794540253))
        make_face()
    extrude(amount=F3_DEPTH)

    # F0 (on Top) → F4 (join)
    with BuildSketch(Plane.XY):
        with BuildLine():
            add(Edge.make_bspline(
                [(-0.7915309535, -5.0304497665), (-0.3104896405, -5.444994192), (0.5553847228, -5.444994192)],
                knots=[0, 0, 0, 1, 1, 1], degree=2))
            add(Edge.make_bspline(
                [(0.5553847228, -5.444994192), (1.9277672921, -5.444994192), (2.7101668394, -4.6937208474)],
                knots=[0, 0, 0, 1, 1, 1], degree=2))
            add(Edge.make_bspline(
                [(2.7101668394, -4.6937208474), (3.4925663866, -3.9424475027), (3.4925663866, -2.5898725169)],
                knots=[0, 0, 0, 1, 1, 1], degree=2))
            Line((3.4925663866, -2.5898725169), (3.4925663866, -1.7155091892))
            Line((3.4925663866, -1.7155091892), (2.0239755547, -1.7749319396))
            add(Edge.make_bspline(
                [(2.0239755547, -1.7749319396), (0.2724192446, -1.8371843448), (-0.5000765109, -2.3196404852)],
                knots=[0, 0, 0, 1, 1, 1], degree=2))
            add(Edge.make_bspline(
                [(-0.5000765109, -2.3196404852), (-1.2725722664, -2.8020966255), (-1.2725722664, -3.8179426923)],
                knots=[0, 0, 0, 1, 1, 1], degree=2))
            add(Edge.make_bspline(
                [(-1.2725722664, -3.8179426923), (-1.2725722664, -4.6159053409), (-0.7915309535, -5.0304497665)],
                knots=[0, 0, 0, 1, 1, 1], degree=2))
        make_face()
    extrude(amount=F4_DEPTH)

    # F0 (on Top) → F5 (join)
    with BuildSketch(Plane.XY):
        with BuildLine():
            add(Edge.make_bspline(
                [(11.1128267149, -5.444994192), (11.5033190748, -5.444994192), (11.8655148869, -5.3884010964)],
                knots=[0, 0, 0, 1, 1, 1], degree=2))
            add(Edge.make_bspline(
                [(9.9724758377, -4.9766863256), (10.3884350907, -5.444994192), (11.1128267149, -5.444994192)],
                knots=[0, 0, 0, 1, 1, 1], degree=2))
            add(Edge.make_bspline(
                [(9.5565165847, -3.6340151315), (9.5565165847, -4.5083784592), (9.9724758377, -4.9766863256)],
                knots=[0, 0, 0, 1, 1, 1], degree=2))
            Line((9.5565165847, -3.6340151315), (9.5565165847, 2.0705689093))
            Line((9.5565165847, 2.0705689093), (12.3691934381, 2.0705689093))
            Line((12.3691934381, 2.0705689093), (12.3691934381, 3.2109197865))
            Line((12.3691934381, 3.2109197865), (9.5565165847, 3.2109197865))
            Line((9.5565165847, 3.2109197865), (9.5565165847, 5.4576656835))
            Line((9.5565165847, 5.4576656835), (8.7076201501, 5.4576656835))
            Line((8.7076201501, 5.4576656835), (8.0907554076, 3.3891880377))
            Line((8.0907554076, 3.3891880377), (6.7013949096, 2.7779826048))
            Line((6.7013949096, 2.7779826048), (6.7013949096, 2.0705689093))
            Line((6.7013949096, 2.0705689093), (8.0907554076, 2.0705689093))
            Line((8.0907554076, 2.0705689093), (8.0907554076, -3.6962675367))
            add(Edge.make_bspline(
                [(10.9006026062, -6.6589160936), (8.0907554076, -6.6589160936), (8.0907554076, -3.6962675367)],
                knots=[0, 0, 0, 1, 1, 1], degree=2))
            add(Edge.make_bspline(
                [(11.7381804217, -6.5825154144), (11.2741170375, -6.6589160936), (10.9006026062, -6.6589160936)],
                knots=[0, 0, 0, 1, 1, 1], degree=2))
            add(Edge.make_bspline(
                [(12.4399348077, -6.392928544), (12.202243806, -6.5061147353), (11.7381804217, -6.5825154144)],
                knots=[0, 0, 0, 1, 1, 1], degree=2))
            Line((12.4399348077, -6.392928544), (12.4399348077, -5.2695555955))
            add(Edge.make_bspline(
                [(11.8655148869, -5.3884010964), (12.227710699, -5.3318080007), (12.4399348077, -5.2695555955)],
                knots=[0, 0, 0, 1, 1, 1], degree=2))
        make_face()
        with BuildLine():
            add(Edge.make_bspline(
                [(17.5050168677, -5.444994192), (17.8955092276, -5.444994192), (18.2577050397, -5.3884010964)],
                knots=[0, 0, 0, 1, 1, 1], degree=2))
            add(Edge.make_bspline(
                [(16.3646659905, -4.9766863256), (16.7806252435, -5.444994192), (17.5050168677, -5.444994192)],
                knots=[0, 0, 0, 1, 1, 1], degree=2))
            add(Edge.make_bspline(
                [(15.9487067375, -3.6340151315), (15.9487067375, -4.5083784592), (16.3646659905, -4.9766863256)],
                knots=[0, 0, 0, 1, 1, 1], degree=2))
            Line((15.9487067375, -3.6340151315), (15.9487067375, 2.0705689093))
            Line((15.9487067375, 2.0705689093), (18.7613835909, 2.0705689093))
            Line((18.7613835909, 2.0705689093), (18.7613835909, 3.2109197865))
            Line((18.7613835909, 3.2109197865), (15.9487067375, 3.2109197865))
            Line((15.9487067375, 3.2109197865), (15.9487067375, 5.4576656835))
            Line((15.9487067375, 5.4576656835), (15.0998103029, 5.4576656835))
            Line((15.0998103029, 5.4576656835), (14.4829455604, 3.3891880377))
            Line((14.4829455604, 3.3891880377), (13.0935850624, 2.7779826048))
            Line((13.0935850624, 2.7779826048), (13.0935850624, 2.0705689093))
            Line((13.0935850624, 2.0705689093), (14.4829455604, 2.0705689093))
            Line((14.4829455604, 2.0705689093), (14.4829455604, -3.6962675367))
            add(Edge.make_bspline(
                [(17.292792759, -6.6589160936), (14.4829455604, -6.6589160936), (14.4829455604, -3.6962675367)],
                knots=[0, 0, 0, 1, 1, 1], degree=2))
            add(Edge.make_bspline(
                [(18.1303705745, -6.5825154144), (17.6663071903, -6.6589160936), (17.292792759, -6.6589160936)],
                knots=[0, 0, 0, 1, 1, 1], degree=2))
            add(Edge.make_bspline(
                [(18.8321249605, -6.392928544), (18.5944339588, -6.5061147353), (18.1303705745, -6.5825154144)],
                knots=[0, 0, 0, 1, 1, 1], degree=2))
            Line((18.8321249605, -6.392928544), (18.8321249605, -5.2695555955))
            add(Edge.make_bspline(
                [(18.2577050397, -5.3884010964), (18.6199008518, -5.3318080007), (18.8321249605, -5.2695555955)],
                knots=[0, 0, 0, 1, 1, 1], degree=2))
        make_face()
    extrude(amount=F5_DEPTH)

    # F6 (add): a face of the model
    f6_faces = [f1.faces().sort_by_distance(p)[0] for p in [
        (-14.5180251043, -0.6855579578, 4),
    ]]
    extrude(f6_faces, amount=-F6_DEPTH)


solid = f1.part
